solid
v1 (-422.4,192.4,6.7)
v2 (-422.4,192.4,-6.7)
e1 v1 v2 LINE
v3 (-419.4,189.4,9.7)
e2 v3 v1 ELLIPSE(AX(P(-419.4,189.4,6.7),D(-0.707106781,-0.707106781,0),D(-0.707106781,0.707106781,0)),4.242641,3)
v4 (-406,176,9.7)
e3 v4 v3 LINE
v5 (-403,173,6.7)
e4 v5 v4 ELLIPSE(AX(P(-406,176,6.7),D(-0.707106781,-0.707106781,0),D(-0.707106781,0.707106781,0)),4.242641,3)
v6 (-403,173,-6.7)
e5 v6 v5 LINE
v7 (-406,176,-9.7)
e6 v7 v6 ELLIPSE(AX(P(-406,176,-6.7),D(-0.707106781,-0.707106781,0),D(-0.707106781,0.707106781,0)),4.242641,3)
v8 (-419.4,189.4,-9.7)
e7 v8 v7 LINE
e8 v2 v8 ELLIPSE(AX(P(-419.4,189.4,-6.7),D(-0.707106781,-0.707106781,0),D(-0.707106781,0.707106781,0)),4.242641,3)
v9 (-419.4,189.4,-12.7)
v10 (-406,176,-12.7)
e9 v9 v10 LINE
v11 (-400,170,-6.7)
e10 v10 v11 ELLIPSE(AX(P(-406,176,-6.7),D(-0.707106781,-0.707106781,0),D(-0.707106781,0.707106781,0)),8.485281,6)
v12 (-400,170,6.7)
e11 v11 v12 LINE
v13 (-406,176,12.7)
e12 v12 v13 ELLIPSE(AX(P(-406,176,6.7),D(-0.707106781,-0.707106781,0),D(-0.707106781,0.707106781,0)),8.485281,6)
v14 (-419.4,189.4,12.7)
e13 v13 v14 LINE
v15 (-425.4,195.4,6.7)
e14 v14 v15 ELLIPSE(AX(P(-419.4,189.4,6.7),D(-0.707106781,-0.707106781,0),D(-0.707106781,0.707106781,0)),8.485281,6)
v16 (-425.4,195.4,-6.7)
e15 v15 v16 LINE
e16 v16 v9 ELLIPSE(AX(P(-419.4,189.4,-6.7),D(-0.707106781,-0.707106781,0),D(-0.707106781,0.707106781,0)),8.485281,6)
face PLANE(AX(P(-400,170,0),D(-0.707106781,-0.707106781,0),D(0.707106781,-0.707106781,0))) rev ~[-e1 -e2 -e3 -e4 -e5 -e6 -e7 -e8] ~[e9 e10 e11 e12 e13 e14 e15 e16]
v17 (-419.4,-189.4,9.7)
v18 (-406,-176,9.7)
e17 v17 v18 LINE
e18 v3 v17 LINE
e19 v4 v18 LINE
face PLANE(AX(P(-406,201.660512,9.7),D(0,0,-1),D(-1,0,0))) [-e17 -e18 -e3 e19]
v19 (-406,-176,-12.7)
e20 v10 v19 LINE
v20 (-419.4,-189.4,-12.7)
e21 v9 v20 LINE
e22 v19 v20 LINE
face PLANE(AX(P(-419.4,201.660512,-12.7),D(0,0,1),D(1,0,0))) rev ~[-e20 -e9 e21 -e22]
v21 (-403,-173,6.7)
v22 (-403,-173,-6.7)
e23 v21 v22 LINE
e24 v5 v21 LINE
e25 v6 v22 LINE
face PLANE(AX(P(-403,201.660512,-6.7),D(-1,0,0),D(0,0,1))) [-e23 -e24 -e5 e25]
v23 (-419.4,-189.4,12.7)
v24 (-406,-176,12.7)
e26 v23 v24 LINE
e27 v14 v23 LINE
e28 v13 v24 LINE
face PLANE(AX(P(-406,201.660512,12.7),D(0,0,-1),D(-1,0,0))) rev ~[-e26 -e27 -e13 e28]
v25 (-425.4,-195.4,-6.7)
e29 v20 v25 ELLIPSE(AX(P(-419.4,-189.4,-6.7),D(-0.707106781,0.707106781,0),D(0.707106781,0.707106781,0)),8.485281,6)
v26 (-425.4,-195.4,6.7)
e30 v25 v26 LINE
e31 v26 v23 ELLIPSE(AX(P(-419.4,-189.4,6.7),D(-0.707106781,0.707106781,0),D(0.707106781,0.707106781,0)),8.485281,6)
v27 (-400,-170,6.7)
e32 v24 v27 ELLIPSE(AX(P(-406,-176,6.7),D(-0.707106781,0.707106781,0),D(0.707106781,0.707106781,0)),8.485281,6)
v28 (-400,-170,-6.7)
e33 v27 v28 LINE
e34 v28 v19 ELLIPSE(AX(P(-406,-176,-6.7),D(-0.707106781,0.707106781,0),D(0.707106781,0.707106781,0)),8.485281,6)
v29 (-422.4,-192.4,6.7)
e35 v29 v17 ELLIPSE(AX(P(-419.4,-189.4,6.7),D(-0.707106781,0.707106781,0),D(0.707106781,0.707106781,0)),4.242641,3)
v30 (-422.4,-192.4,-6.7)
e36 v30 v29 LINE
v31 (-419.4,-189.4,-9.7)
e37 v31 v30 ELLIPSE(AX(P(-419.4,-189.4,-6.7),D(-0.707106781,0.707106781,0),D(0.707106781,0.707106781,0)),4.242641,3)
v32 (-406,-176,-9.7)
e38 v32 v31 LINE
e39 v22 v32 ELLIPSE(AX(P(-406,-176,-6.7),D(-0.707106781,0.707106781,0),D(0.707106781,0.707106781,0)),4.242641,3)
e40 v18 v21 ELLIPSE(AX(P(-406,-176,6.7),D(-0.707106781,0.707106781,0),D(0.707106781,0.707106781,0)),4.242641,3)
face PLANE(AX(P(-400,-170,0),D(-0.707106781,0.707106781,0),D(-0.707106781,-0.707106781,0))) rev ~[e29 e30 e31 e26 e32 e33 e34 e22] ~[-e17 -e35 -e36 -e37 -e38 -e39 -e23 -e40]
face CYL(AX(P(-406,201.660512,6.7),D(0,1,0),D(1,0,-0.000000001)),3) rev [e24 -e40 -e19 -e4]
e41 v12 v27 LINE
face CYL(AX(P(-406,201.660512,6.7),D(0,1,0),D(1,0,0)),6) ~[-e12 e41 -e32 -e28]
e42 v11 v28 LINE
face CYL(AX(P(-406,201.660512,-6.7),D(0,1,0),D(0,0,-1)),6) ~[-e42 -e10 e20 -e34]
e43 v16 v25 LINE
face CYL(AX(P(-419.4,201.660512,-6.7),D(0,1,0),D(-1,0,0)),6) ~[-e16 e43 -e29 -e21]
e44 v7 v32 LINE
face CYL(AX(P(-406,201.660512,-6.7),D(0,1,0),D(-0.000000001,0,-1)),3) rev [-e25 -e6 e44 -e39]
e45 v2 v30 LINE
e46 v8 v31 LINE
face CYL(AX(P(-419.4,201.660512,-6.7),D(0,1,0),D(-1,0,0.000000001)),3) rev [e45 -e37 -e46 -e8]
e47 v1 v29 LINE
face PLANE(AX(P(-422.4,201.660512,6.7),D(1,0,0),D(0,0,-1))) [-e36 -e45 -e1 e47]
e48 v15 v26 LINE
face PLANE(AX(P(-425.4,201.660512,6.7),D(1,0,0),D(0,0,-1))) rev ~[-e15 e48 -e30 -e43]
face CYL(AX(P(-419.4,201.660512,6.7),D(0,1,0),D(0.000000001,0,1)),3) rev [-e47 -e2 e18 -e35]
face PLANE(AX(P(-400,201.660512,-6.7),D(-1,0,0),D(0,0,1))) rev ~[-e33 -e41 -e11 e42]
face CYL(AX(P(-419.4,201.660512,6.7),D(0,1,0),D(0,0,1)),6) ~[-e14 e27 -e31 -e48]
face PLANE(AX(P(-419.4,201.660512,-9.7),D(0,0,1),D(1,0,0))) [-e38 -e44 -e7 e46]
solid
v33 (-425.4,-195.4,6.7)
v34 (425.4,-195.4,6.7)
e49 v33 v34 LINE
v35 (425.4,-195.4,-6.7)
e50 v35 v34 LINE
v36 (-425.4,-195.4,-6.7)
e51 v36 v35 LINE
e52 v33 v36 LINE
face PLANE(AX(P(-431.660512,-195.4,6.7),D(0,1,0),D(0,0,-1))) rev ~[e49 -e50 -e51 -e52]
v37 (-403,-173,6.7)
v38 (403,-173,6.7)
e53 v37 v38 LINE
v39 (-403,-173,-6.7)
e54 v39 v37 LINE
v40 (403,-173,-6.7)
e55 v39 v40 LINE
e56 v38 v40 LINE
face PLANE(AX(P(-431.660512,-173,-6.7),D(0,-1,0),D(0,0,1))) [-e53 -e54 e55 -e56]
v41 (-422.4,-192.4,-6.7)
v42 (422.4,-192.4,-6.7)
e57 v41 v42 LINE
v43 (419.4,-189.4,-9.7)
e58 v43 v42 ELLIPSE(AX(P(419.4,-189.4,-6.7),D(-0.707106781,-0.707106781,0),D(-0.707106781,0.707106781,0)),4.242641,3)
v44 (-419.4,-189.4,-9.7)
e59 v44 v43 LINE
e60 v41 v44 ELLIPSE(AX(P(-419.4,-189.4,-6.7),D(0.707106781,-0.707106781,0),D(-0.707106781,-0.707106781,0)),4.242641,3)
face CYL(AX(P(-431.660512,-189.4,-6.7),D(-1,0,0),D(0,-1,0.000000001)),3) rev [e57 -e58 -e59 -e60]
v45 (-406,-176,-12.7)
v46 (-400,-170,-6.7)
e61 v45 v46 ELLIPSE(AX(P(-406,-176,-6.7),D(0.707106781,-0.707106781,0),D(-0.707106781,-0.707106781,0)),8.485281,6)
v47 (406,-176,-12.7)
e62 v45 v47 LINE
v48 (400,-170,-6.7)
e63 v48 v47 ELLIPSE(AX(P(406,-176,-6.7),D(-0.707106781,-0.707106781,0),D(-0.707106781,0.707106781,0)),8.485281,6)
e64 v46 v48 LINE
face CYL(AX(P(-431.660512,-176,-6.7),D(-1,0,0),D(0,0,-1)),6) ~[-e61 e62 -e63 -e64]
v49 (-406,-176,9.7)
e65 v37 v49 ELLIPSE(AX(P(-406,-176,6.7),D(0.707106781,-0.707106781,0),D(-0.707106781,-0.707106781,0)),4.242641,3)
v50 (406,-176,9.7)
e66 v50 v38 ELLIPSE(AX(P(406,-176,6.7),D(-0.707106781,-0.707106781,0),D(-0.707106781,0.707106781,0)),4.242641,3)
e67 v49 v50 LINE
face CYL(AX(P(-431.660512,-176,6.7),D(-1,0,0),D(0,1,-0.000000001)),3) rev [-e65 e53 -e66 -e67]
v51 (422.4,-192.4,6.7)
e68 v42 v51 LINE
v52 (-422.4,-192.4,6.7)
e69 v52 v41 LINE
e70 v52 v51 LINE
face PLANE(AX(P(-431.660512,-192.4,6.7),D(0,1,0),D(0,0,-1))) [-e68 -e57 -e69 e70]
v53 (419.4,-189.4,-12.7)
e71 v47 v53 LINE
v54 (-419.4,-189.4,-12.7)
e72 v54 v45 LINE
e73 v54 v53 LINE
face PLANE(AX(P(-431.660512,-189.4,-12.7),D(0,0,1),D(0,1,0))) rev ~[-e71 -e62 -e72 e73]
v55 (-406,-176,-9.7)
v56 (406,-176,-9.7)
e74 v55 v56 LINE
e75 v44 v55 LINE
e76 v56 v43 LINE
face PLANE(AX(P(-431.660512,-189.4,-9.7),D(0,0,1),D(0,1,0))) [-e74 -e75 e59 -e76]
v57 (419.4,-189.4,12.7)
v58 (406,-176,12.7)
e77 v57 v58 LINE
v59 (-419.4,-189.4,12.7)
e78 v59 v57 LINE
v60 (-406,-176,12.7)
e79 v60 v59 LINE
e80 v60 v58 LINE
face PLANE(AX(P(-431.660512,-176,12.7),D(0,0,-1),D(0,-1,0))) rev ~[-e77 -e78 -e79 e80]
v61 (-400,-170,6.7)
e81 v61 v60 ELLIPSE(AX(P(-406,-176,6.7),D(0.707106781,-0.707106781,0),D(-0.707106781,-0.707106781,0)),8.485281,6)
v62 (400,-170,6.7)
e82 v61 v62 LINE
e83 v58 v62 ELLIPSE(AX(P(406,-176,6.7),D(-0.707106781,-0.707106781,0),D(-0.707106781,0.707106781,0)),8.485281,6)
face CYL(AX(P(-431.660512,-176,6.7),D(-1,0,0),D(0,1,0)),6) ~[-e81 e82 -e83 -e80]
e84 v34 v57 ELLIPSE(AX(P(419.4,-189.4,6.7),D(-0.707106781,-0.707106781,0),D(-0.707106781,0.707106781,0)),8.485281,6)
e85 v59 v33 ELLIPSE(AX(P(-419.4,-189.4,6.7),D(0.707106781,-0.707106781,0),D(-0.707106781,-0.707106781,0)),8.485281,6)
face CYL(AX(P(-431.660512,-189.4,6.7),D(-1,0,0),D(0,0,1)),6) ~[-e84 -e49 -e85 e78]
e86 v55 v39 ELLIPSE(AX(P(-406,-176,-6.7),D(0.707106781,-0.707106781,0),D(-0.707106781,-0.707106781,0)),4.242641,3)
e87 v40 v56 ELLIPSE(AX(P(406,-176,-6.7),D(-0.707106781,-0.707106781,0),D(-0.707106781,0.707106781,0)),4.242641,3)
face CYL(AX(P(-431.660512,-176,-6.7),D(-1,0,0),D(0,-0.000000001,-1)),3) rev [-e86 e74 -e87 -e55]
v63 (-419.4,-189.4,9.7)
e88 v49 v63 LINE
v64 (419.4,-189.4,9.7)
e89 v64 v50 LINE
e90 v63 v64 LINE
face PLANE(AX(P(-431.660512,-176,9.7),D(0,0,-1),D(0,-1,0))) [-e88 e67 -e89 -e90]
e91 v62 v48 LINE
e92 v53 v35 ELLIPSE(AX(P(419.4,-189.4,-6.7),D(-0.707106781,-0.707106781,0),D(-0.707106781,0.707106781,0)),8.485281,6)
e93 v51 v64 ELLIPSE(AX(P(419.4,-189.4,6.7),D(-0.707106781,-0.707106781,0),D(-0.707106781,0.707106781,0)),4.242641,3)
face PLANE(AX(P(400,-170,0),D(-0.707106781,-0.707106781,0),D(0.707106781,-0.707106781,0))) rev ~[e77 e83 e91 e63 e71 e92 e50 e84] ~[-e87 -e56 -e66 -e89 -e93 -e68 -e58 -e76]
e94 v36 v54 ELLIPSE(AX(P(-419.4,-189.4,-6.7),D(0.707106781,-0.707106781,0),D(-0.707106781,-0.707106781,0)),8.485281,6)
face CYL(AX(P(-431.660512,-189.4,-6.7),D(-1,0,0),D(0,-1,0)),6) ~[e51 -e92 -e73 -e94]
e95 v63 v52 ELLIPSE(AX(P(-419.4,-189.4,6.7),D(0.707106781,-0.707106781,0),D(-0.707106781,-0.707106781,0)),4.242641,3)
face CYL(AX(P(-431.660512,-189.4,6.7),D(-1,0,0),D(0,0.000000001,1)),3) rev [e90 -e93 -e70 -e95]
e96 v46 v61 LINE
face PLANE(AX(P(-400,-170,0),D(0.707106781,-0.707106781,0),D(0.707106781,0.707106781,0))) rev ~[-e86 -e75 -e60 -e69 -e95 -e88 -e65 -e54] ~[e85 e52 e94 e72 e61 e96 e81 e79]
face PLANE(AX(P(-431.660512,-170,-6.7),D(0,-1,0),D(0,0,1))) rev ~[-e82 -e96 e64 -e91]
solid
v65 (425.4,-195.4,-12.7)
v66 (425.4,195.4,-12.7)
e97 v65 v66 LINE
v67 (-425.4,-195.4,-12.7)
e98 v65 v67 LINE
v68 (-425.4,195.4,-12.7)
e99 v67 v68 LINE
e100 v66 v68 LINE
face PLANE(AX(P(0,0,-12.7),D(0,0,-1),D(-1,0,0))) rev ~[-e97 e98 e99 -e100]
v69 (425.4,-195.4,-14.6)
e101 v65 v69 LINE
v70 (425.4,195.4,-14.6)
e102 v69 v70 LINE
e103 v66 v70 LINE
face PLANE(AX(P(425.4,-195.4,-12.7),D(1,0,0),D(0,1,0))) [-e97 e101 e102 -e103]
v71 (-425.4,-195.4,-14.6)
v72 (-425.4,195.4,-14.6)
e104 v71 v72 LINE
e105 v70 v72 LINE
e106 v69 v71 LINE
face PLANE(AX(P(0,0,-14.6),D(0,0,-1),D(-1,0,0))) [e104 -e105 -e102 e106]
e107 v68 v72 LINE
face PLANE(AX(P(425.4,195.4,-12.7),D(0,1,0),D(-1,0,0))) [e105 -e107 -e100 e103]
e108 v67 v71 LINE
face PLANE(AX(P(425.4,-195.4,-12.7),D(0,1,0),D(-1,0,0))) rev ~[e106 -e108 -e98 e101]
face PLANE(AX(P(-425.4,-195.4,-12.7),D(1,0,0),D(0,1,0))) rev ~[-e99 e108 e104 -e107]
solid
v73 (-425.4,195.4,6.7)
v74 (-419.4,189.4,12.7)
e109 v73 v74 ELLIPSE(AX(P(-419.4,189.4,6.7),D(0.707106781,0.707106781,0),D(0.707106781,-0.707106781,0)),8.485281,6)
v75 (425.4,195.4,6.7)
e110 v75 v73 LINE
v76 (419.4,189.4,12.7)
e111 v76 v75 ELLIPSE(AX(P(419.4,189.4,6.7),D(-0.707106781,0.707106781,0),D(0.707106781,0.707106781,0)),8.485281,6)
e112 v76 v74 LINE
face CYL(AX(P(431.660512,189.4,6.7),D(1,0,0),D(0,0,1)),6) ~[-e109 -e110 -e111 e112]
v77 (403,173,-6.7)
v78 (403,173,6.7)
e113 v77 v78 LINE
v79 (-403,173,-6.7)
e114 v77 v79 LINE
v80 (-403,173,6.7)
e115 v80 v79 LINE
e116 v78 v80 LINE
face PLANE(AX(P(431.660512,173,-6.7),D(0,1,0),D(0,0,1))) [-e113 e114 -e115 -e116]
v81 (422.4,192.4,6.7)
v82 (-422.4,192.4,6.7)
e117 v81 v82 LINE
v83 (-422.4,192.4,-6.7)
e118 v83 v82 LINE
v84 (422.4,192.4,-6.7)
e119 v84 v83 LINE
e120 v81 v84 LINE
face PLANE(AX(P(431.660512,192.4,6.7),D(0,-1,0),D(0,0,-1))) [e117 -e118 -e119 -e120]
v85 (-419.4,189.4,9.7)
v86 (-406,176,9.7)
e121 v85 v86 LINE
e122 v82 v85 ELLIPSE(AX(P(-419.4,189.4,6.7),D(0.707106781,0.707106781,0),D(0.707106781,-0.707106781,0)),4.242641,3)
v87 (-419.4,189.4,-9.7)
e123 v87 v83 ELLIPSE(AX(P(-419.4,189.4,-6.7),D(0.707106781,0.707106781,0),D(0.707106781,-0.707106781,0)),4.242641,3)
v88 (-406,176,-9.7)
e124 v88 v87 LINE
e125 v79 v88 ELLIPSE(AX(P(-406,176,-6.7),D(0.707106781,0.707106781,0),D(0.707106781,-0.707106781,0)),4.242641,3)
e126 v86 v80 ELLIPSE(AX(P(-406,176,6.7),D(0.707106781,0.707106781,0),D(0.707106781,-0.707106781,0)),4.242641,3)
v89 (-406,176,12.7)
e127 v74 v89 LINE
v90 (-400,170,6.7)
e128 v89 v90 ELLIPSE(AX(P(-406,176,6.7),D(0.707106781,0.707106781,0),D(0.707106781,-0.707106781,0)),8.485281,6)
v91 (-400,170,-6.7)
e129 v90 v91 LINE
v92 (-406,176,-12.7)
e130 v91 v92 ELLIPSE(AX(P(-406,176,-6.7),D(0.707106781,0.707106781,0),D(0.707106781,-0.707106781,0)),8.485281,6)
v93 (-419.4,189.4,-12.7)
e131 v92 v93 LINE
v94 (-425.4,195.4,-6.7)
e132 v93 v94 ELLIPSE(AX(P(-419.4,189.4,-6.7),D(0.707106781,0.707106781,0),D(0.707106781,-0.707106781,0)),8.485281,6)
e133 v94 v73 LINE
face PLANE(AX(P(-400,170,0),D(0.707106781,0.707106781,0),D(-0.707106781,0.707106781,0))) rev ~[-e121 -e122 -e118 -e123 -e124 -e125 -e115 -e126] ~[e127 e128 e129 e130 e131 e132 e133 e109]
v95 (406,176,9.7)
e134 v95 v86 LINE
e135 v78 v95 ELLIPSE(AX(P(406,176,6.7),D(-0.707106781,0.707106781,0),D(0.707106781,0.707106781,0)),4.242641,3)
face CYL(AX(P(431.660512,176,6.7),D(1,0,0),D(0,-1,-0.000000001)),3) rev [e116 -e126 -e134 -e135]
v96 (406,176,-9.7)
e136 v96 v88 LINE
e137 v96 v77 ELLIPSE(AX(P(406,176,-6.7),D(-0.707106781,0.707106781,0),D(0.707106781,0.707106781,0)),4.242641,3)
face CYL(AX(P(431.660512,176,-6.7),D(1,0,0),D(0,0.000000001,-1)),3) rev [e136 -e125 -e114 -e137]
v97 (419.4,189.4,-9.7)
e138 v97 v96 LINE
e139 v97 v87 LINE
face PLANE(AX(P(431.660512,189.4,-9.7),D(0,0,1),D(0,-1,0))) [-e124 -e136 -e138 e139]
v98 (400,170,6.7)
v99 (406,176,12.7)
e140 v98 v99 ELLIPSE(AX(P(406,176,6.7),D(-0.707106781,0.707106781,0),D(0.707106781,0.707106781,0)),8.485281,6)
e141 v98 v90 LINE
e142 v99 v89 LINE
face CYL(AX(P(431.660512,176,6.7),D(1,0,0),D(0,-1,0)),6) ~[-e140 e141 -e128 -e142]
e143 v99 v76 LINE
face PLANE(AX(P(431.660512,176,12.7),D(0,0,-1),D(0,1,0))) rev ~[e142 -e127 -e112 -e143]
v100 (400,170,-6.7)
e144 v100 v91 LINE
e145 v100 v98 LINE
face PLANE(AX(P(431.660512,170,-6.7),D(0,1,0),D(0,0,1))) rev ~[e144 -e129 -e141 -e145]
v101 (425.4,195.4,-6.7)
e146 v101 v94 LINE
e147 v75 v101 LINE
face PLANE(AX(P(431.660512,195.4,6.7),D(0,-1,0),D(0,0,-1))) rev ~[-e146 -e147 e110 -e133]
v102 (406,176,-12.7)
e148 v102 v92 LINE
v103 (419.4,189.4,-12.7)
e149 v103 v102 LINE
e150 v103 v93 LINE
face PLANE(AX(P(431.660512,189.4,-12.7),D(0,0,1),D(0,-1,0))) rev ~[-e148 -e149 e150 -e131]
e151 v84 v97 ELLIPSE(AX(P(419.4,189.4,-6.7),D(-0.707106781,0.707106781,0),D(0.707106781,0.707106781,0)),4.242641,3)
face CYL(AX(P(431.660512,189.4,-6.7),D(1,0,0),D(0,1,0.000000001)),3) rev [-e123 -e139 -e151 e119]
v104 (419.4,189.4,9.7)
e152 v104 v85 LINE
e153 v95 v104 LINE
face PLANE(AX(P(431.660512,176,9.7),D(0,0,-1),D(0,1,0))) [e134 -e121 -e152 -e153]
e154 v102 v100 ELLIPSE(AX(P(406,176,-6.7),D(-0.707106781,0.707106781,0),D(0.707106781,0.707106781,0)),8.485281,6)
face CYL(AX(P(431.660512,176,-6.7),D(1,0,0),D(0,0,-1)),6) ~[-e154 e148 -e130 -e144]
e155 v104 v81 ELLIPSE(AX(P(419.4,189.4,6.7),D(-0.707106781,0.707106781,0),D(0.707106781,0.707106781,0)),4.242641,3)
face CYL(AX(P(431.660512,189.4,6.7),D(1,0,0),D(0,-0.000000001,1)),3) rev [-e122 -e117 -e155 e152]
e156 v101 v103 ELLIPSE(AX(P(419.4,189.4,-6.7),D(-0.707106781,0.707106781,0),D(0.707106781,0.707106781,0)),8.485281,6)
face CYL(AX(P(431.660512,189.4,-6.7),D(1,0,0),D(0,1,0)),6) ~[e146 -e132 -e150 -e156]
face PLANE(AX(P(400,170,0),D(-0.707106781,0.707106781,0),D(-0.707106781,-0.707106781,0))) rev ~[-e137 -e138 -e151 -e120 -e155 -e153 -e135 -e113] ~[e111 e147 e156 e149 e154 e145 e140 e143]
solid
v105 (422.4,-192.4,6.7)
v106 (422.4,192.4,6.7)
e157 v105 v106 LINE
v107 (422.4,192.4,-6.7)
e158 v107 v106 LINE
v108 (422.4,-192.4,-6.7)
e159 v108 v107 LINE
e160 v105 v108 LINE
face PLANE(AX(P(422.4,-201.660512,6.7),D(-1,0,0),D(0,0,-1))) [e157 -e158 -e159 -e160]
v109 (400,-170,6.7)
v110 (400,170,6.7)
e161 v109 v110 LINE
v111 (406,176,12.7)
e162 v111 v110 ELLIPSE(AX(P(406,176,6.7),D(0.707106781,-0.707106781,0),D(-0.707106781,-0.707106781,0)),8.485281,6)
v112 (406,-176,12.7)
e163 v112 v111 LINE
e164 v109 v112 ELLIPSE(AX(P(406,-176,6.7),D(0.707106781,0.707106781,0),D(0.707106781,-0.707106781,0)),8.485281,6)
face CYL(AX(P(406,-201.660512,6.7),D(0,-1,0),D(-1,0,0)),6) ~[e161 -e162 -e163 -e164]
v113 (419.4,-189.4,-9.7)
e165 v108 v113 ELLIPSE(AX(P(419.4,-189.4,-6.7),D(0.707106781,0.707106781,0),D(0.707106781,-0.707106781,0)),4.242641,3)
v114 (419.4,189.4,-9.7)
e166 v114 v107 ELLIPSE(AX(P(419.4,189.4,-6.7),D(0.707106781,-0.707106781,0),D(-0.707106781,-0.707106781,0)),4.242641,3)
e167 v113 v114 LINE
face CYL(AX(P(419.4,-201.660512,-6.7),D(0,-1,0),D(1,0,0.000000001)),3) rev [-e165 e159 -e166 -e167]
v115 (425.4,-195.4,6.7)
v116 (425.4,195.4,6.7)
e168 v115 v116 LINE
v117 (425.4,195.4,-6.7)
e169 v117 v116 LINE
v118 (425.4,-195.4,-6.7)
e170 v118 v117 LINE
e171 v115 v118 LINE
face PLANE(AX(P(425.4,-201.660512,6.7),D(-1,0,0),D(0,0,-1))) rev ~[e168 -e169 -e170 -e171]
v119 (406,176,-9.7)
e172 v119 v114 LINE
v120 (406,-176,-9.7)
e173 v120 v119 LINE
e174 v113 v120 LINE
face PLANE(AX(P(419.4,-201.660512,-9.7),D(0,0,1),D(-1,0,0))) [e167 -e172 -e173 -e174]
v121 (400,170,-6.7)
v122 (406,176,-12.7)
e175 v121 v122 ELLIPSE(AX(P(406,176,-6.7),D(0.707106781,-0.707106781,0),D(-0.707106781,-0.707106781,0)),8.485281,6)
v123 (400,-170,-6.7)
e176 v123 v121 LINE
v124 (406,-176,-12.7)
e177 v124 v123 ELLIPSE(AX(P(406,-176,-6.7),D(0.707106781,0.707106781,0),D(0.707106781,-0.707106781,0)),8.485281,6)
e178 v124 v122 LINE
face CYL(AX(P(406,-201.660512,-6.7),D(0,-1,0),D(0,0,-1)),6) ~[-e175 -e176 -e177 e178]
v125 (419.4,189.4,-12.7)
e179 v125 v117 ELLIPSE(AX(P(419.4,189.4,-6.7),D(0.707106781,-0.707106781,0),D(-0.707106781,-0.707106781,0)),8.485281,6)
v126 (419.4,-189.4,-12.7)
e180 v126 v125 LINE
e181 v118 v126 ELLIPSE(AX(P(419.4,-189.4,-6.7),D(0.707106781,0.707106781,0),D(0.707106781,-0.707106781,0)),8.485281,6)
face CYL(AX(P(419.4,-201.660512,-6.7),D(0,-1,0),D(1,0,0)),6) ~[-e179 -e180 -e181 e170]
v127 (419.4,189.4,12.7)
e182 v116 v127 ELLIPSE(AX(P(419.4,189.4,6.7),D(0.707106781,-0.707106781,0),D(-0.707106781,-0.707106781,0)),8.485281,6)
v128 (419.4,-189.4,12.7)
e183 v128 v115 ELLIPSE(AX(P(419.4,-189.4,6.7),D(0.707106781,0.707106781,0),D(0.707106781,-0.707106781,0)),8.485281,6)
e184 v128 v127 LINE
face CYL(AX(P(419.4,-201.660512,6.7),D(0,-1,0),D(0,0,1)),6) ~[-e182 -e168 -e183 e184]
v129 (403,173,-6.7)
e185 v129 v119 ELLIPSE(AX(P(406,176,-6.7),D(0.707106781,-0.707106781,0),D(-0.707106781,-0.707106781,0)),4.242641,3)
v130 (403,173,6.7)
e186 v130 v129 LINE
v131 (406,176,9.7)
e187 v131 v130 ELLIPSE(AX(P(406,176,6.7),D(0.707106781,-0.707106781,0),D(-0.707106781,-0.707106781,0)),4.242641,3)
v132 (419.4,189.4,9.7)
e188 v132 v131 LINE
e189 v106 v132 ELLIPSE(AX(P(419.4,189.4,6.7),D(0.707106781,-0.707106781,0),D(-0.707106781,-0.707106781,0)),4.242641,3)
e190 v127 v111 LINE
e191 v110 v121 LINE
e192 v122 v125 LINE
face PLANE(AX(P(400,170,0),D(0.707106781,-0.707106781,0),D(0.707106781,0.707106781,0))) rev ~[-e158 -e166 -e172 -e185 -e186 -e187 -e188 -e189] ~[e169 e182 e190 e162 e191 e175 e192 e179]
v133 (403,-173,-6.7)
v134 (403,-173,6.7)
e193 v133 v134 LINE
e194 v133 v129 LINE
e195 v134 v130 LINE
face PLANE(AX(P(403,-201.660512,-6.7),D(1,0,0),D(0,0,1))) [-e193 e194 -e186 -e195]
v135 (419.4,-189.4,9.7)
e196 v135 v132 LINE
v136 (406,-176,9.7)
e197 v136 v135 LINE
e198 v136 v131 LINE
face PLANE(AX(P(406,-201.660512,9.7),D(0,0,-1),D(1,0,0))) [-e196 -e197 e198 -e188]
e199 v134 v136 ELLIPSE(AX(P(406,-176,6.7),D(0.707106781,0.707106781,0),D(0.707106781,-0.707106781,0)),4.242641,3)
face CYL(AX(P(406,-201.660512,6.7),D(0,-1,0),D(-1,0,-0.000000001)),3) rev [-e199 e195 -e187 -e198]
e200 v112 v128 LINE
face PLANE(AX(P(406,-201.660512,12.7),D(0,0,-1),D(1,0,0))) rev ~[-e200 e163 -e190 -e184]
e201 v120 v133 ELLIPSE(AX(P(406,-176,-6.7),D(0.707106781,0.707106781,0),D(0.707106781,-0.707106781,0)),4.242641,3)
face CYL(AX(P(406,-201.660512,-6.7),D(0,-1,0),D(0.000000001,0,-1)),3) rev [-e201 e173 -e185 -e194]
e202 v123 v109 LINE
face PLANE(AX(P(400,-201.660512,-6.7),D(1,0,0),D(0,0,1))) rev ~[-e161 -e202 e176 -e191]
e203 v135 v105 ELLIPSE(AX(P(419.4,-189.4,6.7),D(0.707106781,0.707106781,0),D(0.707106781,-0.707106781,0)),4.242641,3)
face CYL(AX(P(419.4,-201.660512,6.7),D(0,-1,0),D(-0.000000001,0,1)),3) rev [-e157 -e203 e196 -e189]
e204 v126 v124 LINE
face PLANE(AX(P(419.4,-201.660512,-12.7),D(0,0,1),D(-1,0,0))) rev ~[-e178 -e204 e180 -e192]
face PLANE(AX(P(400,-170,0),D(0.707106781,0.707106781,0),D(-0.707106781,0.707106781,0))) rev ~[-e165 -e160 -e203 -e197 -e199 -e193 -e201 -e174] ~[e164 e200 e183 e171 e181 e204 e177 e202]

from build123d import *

# Parameters (mm, degrees)
TUBO_CUADRADO_2_X_2_X_0_25_1_DEPTH      = 371.660512242
TUBO_CUADRADO_2_X_2_X_0_25_1_DEPTH_BACK = 31.660512242
TUBO_CUADRADO_2_X_2_X_0_25_1_2_DEPTH    = 863.321024484
TUBO_CUADRADO_2_X_2_X_0_25_1_3_DEPTH    = 403.321024484
TUBO_CUADRADO_2_X_2_X_0_25_1_4_DEPTH    = 863.321024484
CROQUIS4_W                              = 850.8
CROQUIS4_H                              = 390.8
SALIENTE_EXTRUIR2_DEPTH                 = 1.9


with BuildPart() as part:
    # Sketch1 → Tubo cuadrado 2 X 2 X 0.25(1) (new, two sides: drawn at the far end of the back side and taken through both)
    with BuildSketch(Plane(origin=(-412.7, 170, 0), x_dir=(1, 0, 0), z_dir=(0, -1, 0)).offset(-TUBO_CUADRADO_2_X_2_X_0_25_1_DEPTH_BACK)):
        with BuildLine():
            Line((-6.7, -12.7), (6.7, -12.7))
            ThreePointArc((6.7, -12.7), (10.942640687, -10.942640687), (12.7, -6.7))
            Line((12.7, -6.7), (12.7, 6.7))
            ThreePointArc((12.7, 6.7), (10.942640687, 10.942640687), (6.7, 12.7))
            Line((6.7, 12.7), (-6.7, 12.7))
            ThreePointArc((-6.7, 12.7), (-10.942640687, 10.942640687), (-12.7, 6.7))
            Line((-12.7, 6.7), (-12.7, -6.7))
            ThreePointArc((-12.7, -6.7), (-10.942640687, -10.942640687), (-6.7, -12.7))
        make_face()
        with BuildLine():
            Line((-6.7, -9.7), (6.7, -9.7))
            ThreePointArc((6.7, -9.7), (8.821320344, -8.821320344), (9.7, -6.7))
            Line((9.7, -6.7), (9.7, 6.7))
            ThreePointArc((9.7, 6.7), (8.821320344, 8.821320344), (6.7, 9.7))
            Line((6.7, 9.7), (-6.7, 9.7))
            ThreePointArc((-6.7, 9.7), (-8.821320344, 8.821320344), (-9.7, 6.7))
            Line((-9.7, 6.7), (-9.7, -6.7))
            ThreePointArc((-9.7, -6.7), (-8.821320344, -8.821320344), (-6.7, -9.7))
        make_face(mode=Mode.SUBTRACT)
    extrude(amount=TUBO_CUADRADO_2_X_2_X_0_25_1_DEPTH + TUBO_CUADRADO_2_X_2_X_0_25_1_DEPTH_BACK)

    # Tubo cuadrado 2 X 2 X 0.25(1) mitre 1
    split(bisect_by=Plane(origin=(-400, 170, 0), x_dir=(0.707106781, -0.707106781, 0), z_dir=(-0.707106781, -0.707106781, 0)), keep=Keep.TOP)

    # Tubo cuadrado 2 X 2 X 0.25(1) mitre 2
    split(bisect_by=Plane(origin=(-400, -170, 0), x_dir=(-0.707106781, -0.707106781, 0), z_dir=(-0.707106781, 0.707106781, 0)), keep=Keep.TOP)


with BuildPart() as body_2:
    # Sketch1 on segment 2 (carried to segment 2) → Tubo cuadrado 2 X 2 X 0.25_1 2 (new body)
    with BuildSketch(Plane(origin=(-431.660512242, -182.7, 0), x_dir=(0, 1, 0), z_dir=(1, 0, 0))):
        with BuildLine():
            Line((-6.7, -12.7), (6.7, -12.7))
            ThreePointArc((6.7, -12.7), (10.942640687, -10.942640687), (12.7, -6.7))
            Line((12.7, -6.7), (12.7, 6.7))
            ThreePointArc((12.7, 6.7), (10.942640687, 10.942640687), (6.7, 12.7))
            Line((6.7, 12.7), (-6.7, 12.7))
            ThreePointArc((-6.7, 12.7), (-10.942640687, 10.942640687), (-12.7, 6.7))
            Line((-12.7, 6.7), (-12.7, -6.7))
            ThreePointArc((-12.7, -6.7), (-10.942640687, -10.942640687), (-6.7, -12.7))
        make_face()
        with BuildLine():
            Line((-6.7, -9.7), (6.7, -9.7))
            ThreePointArc((6.7, -9.7), (8.821320344, -8.821320344), (9.7, -6.7))
            Line((9.7, -6.7), (9.7, 6.7))
            ThreePointArc((9.7, 6.7), (8.821320344, 8.821320344), (6.7, 9.7))
            Line((6.7, 9.7), (-6.7, 9.7))
            ThreePointArc((-6.7, 9.7), (-8.821320344, 8.821320344), (-9.7, 6.7))
            Line((-9.7, 6.7), (-9.7, -6.7))
            ThreePointArc((-9.7, -6.7), (-8.821320344, -8.821320344), (-6.7, -9.7))
        make_face(mode=Mode.SUBTRACT)
    extrude(amount=TUBO_CUADRADO_2_X_2_X_0_25_1_2_DEPTH)

    # Tubo cuadrado 2 X 2 X 0.25_1 2 mitre 1
    split(bisect_by=Plane(origin=(-400, -170, 0), x_dir=(0.707106781, 0.707106781, 0), z_dir=(0.707106781, -0.707106781, 0)), keep=Keep.TOP)

    # Tubo cuadrado 2 X 2 X 0.25_1 2 mitre 2
    split(bisect_by=Plane(origin=(400, -170, 0), x_dir=(0.707106781, -0.707106781, 0), z_dir=(-0.707106781, -0.707106781, 0)), keep=Keep.TOP)


with BuildPart() as body_3:
    # Sketch1 on segment 3 (carried to segment 3) → Tubo cuadrado 2 X 2 X 0.25_1 3 (new body)
    with BuildSketch(Plane(origin=(412.7, -201.660512242, 0), x_dir=(-1, 0, 0), z_dir=(0, 1, 0))):
        with BuildLine():
            Line((-6.7, -12.7), (6.7, -12.7))
            ThreePointArc((6.7, -12.7), (10.942640687, -10.942640687), (12.7, -6.7))
            Line((12.7, -6.7), (12.7, 6.7))
            ThreePointArc((12.7, 6.7), (10.942640687, 10.942640687), (6.7, 12.7))
            Line((6.7, 12.7), (-6.7, 12.7))
            ThreePointArc((-6.7, 12.7), (-10.942640687, 10.942640687), (-12.7, 6.7))
            Line((-12.7, 6.7), (-12.7, -6.7))
            ThreePointArc((-12.7, -6.7), (-10.942640687, -10.942640687), (-6.7, -12.7))
        make_face()
        with BuildLine():
            Line((-6.7, -9.7), (6.7, -9.7))
            ThreePointArc((6.7, -9.7), (8.821320344, -8.821320344), (9.7, -6.7))
            Line((9.7, -6.7), (9.7, 6.7))
            ThreePointArc((9.7, 6.7), (8.821320344, 8.821320344), (6.7, 9.7))
            Line((6.7, 9.7), (-6.7, 9.7))
            ThreePointArc((-6.7, 9.7), (-8.821320344, 8.821320344), (-9.7, 6.7))
            Line((-9.7, 6.7), (-9.7, -6.7))
            ThreePointArc((-9.7, -6.7), (-8.821320344, -8.821320344), (-6.7, -9.7))
        make_face(mode=Mode.SUBTRACT)
    extrude(amount=TUBO_CUADRADO_2_X_2_X_0_25_1_3_DEPTH)

    # Tubo cuadrado 2 X 2 X 0.25_1 3 mitre 1
    split(bisect_by=Plane(origin=(400, 170, 0), x_dir=(0.707106781, 0.707106781, 0), z_dir=(0.707106781, -0.707106781, 0)), keep=Keep.TOP)

    # Tubo cuadrado 2 X 2 X 0.25_1 3 mitre 2
    split(bisect_by=Plane(origin=(400, -170, 0), x_dir=(-0.707106781, 0.707106781, 0), z_dir=(0.707106781, 0.707106781, 0)), keep=Keep.TOP)


with BuildPart() as body_4:
    # Sketch1 on segment 4 (carried to segment 4) → Tubo cuadrado 2 X 2 X 0.25_1 4 (new body)
    with BuildSketch(Plane(origin=(431.660512242, 182.7, 0), x_dir=(0, -1, 0), z_dir=(-1, 0, 0))):
        with BuildLine():
            Line((-6.7, -12.7), (6.7, -12.7))
            ThreePointArc((6.7, -12.7), (10.942640687, -10.942640687), (12.7, -6.7))
            Line((12.7, -6.7), (12.7, 6.7))
            ThreePointArc((12.7, 6.7), (10.942640687, 10.942640687), (6.7, 12.7))
            Line((6.7, 12.7), (-6.7, 12.7))
            ThreePointArc((-6.7, 12.7), (-10.942640687, 10.942640687), (-12.7, 6.7))
            Line((-12.7, 6.7), (-12.7, -6.7))
            ThreePointArc((-12.7, -6.7), (-10.942640687, -10.942640687), (-6.7, -12.7))
        make_face()
        with BuildLine():
            Line((-6.7, -9.7), (6.7, -9.7))
            ThreePointArc((6.7, -9.7), (8.821320344, -8.821320344), (9.7, -6.7))
            Line((9.7, -6.7), (9.7, 6.7))
            ThreePointArc((9.7, 6.7), (8.821320344, 8.821320344), (6.7, 9.7))
            Line((6.7, 9.7), (-6.7, 9.7))
            ThreePointArc((-6.7, 9.7), (-8.821320344, 8.821320344), (-9.7, 6.7))
            Line((-9.7, 6.7), (-9.7, -6.7))
            ThreePointArc((-9.7, -6.7), (-8.821320344, -8.821320344), (-6.7, -9.7))
        make_face(mode=Mode.SUBTRACT)
    extrude(amount=TUBO_CUADRADO_2_X_2_X_0_25_1_4_DEPTH)

    # Tubo cuadrado 2 X 2 X 0.25_1 4 mitre 1
    split(bisect_by=Plane(origin=(-400, 170, 0), x_dir=(-0.707106781, 0.707106781, 0), z_dir=(0.707106781, 0.707106781, 0)), keep=Keep.TOP)

    # Tubo cuadrado 2 X 2 X 0.25_1 4 mitre 2
    split(bisect_by=Plane(origin=(400, 170, 0), x_dir=(-0.707106781, -0.707106781, 0), z_dir=(-0.707106781, 0.707106781, 0)), keep=Keep.TOP)


with BuildPart() as body_5:
    # Croquis4 → Saliente-Extruir2 (new body)
    with BuildSketch(Plane(origin=(0, 0, -12.7), x_dir=(-1, 0, 0), z_dir=(0, 0, -1))):
        Rectangle(CROQUIS4_W, CROQUIS4_H)
    extrude(amount=SALIENTE_EXTRUIR2_DEPTH)


solid = Compound([part.part, body_2.part, body_3.part, body_4.part, body_5.part])
